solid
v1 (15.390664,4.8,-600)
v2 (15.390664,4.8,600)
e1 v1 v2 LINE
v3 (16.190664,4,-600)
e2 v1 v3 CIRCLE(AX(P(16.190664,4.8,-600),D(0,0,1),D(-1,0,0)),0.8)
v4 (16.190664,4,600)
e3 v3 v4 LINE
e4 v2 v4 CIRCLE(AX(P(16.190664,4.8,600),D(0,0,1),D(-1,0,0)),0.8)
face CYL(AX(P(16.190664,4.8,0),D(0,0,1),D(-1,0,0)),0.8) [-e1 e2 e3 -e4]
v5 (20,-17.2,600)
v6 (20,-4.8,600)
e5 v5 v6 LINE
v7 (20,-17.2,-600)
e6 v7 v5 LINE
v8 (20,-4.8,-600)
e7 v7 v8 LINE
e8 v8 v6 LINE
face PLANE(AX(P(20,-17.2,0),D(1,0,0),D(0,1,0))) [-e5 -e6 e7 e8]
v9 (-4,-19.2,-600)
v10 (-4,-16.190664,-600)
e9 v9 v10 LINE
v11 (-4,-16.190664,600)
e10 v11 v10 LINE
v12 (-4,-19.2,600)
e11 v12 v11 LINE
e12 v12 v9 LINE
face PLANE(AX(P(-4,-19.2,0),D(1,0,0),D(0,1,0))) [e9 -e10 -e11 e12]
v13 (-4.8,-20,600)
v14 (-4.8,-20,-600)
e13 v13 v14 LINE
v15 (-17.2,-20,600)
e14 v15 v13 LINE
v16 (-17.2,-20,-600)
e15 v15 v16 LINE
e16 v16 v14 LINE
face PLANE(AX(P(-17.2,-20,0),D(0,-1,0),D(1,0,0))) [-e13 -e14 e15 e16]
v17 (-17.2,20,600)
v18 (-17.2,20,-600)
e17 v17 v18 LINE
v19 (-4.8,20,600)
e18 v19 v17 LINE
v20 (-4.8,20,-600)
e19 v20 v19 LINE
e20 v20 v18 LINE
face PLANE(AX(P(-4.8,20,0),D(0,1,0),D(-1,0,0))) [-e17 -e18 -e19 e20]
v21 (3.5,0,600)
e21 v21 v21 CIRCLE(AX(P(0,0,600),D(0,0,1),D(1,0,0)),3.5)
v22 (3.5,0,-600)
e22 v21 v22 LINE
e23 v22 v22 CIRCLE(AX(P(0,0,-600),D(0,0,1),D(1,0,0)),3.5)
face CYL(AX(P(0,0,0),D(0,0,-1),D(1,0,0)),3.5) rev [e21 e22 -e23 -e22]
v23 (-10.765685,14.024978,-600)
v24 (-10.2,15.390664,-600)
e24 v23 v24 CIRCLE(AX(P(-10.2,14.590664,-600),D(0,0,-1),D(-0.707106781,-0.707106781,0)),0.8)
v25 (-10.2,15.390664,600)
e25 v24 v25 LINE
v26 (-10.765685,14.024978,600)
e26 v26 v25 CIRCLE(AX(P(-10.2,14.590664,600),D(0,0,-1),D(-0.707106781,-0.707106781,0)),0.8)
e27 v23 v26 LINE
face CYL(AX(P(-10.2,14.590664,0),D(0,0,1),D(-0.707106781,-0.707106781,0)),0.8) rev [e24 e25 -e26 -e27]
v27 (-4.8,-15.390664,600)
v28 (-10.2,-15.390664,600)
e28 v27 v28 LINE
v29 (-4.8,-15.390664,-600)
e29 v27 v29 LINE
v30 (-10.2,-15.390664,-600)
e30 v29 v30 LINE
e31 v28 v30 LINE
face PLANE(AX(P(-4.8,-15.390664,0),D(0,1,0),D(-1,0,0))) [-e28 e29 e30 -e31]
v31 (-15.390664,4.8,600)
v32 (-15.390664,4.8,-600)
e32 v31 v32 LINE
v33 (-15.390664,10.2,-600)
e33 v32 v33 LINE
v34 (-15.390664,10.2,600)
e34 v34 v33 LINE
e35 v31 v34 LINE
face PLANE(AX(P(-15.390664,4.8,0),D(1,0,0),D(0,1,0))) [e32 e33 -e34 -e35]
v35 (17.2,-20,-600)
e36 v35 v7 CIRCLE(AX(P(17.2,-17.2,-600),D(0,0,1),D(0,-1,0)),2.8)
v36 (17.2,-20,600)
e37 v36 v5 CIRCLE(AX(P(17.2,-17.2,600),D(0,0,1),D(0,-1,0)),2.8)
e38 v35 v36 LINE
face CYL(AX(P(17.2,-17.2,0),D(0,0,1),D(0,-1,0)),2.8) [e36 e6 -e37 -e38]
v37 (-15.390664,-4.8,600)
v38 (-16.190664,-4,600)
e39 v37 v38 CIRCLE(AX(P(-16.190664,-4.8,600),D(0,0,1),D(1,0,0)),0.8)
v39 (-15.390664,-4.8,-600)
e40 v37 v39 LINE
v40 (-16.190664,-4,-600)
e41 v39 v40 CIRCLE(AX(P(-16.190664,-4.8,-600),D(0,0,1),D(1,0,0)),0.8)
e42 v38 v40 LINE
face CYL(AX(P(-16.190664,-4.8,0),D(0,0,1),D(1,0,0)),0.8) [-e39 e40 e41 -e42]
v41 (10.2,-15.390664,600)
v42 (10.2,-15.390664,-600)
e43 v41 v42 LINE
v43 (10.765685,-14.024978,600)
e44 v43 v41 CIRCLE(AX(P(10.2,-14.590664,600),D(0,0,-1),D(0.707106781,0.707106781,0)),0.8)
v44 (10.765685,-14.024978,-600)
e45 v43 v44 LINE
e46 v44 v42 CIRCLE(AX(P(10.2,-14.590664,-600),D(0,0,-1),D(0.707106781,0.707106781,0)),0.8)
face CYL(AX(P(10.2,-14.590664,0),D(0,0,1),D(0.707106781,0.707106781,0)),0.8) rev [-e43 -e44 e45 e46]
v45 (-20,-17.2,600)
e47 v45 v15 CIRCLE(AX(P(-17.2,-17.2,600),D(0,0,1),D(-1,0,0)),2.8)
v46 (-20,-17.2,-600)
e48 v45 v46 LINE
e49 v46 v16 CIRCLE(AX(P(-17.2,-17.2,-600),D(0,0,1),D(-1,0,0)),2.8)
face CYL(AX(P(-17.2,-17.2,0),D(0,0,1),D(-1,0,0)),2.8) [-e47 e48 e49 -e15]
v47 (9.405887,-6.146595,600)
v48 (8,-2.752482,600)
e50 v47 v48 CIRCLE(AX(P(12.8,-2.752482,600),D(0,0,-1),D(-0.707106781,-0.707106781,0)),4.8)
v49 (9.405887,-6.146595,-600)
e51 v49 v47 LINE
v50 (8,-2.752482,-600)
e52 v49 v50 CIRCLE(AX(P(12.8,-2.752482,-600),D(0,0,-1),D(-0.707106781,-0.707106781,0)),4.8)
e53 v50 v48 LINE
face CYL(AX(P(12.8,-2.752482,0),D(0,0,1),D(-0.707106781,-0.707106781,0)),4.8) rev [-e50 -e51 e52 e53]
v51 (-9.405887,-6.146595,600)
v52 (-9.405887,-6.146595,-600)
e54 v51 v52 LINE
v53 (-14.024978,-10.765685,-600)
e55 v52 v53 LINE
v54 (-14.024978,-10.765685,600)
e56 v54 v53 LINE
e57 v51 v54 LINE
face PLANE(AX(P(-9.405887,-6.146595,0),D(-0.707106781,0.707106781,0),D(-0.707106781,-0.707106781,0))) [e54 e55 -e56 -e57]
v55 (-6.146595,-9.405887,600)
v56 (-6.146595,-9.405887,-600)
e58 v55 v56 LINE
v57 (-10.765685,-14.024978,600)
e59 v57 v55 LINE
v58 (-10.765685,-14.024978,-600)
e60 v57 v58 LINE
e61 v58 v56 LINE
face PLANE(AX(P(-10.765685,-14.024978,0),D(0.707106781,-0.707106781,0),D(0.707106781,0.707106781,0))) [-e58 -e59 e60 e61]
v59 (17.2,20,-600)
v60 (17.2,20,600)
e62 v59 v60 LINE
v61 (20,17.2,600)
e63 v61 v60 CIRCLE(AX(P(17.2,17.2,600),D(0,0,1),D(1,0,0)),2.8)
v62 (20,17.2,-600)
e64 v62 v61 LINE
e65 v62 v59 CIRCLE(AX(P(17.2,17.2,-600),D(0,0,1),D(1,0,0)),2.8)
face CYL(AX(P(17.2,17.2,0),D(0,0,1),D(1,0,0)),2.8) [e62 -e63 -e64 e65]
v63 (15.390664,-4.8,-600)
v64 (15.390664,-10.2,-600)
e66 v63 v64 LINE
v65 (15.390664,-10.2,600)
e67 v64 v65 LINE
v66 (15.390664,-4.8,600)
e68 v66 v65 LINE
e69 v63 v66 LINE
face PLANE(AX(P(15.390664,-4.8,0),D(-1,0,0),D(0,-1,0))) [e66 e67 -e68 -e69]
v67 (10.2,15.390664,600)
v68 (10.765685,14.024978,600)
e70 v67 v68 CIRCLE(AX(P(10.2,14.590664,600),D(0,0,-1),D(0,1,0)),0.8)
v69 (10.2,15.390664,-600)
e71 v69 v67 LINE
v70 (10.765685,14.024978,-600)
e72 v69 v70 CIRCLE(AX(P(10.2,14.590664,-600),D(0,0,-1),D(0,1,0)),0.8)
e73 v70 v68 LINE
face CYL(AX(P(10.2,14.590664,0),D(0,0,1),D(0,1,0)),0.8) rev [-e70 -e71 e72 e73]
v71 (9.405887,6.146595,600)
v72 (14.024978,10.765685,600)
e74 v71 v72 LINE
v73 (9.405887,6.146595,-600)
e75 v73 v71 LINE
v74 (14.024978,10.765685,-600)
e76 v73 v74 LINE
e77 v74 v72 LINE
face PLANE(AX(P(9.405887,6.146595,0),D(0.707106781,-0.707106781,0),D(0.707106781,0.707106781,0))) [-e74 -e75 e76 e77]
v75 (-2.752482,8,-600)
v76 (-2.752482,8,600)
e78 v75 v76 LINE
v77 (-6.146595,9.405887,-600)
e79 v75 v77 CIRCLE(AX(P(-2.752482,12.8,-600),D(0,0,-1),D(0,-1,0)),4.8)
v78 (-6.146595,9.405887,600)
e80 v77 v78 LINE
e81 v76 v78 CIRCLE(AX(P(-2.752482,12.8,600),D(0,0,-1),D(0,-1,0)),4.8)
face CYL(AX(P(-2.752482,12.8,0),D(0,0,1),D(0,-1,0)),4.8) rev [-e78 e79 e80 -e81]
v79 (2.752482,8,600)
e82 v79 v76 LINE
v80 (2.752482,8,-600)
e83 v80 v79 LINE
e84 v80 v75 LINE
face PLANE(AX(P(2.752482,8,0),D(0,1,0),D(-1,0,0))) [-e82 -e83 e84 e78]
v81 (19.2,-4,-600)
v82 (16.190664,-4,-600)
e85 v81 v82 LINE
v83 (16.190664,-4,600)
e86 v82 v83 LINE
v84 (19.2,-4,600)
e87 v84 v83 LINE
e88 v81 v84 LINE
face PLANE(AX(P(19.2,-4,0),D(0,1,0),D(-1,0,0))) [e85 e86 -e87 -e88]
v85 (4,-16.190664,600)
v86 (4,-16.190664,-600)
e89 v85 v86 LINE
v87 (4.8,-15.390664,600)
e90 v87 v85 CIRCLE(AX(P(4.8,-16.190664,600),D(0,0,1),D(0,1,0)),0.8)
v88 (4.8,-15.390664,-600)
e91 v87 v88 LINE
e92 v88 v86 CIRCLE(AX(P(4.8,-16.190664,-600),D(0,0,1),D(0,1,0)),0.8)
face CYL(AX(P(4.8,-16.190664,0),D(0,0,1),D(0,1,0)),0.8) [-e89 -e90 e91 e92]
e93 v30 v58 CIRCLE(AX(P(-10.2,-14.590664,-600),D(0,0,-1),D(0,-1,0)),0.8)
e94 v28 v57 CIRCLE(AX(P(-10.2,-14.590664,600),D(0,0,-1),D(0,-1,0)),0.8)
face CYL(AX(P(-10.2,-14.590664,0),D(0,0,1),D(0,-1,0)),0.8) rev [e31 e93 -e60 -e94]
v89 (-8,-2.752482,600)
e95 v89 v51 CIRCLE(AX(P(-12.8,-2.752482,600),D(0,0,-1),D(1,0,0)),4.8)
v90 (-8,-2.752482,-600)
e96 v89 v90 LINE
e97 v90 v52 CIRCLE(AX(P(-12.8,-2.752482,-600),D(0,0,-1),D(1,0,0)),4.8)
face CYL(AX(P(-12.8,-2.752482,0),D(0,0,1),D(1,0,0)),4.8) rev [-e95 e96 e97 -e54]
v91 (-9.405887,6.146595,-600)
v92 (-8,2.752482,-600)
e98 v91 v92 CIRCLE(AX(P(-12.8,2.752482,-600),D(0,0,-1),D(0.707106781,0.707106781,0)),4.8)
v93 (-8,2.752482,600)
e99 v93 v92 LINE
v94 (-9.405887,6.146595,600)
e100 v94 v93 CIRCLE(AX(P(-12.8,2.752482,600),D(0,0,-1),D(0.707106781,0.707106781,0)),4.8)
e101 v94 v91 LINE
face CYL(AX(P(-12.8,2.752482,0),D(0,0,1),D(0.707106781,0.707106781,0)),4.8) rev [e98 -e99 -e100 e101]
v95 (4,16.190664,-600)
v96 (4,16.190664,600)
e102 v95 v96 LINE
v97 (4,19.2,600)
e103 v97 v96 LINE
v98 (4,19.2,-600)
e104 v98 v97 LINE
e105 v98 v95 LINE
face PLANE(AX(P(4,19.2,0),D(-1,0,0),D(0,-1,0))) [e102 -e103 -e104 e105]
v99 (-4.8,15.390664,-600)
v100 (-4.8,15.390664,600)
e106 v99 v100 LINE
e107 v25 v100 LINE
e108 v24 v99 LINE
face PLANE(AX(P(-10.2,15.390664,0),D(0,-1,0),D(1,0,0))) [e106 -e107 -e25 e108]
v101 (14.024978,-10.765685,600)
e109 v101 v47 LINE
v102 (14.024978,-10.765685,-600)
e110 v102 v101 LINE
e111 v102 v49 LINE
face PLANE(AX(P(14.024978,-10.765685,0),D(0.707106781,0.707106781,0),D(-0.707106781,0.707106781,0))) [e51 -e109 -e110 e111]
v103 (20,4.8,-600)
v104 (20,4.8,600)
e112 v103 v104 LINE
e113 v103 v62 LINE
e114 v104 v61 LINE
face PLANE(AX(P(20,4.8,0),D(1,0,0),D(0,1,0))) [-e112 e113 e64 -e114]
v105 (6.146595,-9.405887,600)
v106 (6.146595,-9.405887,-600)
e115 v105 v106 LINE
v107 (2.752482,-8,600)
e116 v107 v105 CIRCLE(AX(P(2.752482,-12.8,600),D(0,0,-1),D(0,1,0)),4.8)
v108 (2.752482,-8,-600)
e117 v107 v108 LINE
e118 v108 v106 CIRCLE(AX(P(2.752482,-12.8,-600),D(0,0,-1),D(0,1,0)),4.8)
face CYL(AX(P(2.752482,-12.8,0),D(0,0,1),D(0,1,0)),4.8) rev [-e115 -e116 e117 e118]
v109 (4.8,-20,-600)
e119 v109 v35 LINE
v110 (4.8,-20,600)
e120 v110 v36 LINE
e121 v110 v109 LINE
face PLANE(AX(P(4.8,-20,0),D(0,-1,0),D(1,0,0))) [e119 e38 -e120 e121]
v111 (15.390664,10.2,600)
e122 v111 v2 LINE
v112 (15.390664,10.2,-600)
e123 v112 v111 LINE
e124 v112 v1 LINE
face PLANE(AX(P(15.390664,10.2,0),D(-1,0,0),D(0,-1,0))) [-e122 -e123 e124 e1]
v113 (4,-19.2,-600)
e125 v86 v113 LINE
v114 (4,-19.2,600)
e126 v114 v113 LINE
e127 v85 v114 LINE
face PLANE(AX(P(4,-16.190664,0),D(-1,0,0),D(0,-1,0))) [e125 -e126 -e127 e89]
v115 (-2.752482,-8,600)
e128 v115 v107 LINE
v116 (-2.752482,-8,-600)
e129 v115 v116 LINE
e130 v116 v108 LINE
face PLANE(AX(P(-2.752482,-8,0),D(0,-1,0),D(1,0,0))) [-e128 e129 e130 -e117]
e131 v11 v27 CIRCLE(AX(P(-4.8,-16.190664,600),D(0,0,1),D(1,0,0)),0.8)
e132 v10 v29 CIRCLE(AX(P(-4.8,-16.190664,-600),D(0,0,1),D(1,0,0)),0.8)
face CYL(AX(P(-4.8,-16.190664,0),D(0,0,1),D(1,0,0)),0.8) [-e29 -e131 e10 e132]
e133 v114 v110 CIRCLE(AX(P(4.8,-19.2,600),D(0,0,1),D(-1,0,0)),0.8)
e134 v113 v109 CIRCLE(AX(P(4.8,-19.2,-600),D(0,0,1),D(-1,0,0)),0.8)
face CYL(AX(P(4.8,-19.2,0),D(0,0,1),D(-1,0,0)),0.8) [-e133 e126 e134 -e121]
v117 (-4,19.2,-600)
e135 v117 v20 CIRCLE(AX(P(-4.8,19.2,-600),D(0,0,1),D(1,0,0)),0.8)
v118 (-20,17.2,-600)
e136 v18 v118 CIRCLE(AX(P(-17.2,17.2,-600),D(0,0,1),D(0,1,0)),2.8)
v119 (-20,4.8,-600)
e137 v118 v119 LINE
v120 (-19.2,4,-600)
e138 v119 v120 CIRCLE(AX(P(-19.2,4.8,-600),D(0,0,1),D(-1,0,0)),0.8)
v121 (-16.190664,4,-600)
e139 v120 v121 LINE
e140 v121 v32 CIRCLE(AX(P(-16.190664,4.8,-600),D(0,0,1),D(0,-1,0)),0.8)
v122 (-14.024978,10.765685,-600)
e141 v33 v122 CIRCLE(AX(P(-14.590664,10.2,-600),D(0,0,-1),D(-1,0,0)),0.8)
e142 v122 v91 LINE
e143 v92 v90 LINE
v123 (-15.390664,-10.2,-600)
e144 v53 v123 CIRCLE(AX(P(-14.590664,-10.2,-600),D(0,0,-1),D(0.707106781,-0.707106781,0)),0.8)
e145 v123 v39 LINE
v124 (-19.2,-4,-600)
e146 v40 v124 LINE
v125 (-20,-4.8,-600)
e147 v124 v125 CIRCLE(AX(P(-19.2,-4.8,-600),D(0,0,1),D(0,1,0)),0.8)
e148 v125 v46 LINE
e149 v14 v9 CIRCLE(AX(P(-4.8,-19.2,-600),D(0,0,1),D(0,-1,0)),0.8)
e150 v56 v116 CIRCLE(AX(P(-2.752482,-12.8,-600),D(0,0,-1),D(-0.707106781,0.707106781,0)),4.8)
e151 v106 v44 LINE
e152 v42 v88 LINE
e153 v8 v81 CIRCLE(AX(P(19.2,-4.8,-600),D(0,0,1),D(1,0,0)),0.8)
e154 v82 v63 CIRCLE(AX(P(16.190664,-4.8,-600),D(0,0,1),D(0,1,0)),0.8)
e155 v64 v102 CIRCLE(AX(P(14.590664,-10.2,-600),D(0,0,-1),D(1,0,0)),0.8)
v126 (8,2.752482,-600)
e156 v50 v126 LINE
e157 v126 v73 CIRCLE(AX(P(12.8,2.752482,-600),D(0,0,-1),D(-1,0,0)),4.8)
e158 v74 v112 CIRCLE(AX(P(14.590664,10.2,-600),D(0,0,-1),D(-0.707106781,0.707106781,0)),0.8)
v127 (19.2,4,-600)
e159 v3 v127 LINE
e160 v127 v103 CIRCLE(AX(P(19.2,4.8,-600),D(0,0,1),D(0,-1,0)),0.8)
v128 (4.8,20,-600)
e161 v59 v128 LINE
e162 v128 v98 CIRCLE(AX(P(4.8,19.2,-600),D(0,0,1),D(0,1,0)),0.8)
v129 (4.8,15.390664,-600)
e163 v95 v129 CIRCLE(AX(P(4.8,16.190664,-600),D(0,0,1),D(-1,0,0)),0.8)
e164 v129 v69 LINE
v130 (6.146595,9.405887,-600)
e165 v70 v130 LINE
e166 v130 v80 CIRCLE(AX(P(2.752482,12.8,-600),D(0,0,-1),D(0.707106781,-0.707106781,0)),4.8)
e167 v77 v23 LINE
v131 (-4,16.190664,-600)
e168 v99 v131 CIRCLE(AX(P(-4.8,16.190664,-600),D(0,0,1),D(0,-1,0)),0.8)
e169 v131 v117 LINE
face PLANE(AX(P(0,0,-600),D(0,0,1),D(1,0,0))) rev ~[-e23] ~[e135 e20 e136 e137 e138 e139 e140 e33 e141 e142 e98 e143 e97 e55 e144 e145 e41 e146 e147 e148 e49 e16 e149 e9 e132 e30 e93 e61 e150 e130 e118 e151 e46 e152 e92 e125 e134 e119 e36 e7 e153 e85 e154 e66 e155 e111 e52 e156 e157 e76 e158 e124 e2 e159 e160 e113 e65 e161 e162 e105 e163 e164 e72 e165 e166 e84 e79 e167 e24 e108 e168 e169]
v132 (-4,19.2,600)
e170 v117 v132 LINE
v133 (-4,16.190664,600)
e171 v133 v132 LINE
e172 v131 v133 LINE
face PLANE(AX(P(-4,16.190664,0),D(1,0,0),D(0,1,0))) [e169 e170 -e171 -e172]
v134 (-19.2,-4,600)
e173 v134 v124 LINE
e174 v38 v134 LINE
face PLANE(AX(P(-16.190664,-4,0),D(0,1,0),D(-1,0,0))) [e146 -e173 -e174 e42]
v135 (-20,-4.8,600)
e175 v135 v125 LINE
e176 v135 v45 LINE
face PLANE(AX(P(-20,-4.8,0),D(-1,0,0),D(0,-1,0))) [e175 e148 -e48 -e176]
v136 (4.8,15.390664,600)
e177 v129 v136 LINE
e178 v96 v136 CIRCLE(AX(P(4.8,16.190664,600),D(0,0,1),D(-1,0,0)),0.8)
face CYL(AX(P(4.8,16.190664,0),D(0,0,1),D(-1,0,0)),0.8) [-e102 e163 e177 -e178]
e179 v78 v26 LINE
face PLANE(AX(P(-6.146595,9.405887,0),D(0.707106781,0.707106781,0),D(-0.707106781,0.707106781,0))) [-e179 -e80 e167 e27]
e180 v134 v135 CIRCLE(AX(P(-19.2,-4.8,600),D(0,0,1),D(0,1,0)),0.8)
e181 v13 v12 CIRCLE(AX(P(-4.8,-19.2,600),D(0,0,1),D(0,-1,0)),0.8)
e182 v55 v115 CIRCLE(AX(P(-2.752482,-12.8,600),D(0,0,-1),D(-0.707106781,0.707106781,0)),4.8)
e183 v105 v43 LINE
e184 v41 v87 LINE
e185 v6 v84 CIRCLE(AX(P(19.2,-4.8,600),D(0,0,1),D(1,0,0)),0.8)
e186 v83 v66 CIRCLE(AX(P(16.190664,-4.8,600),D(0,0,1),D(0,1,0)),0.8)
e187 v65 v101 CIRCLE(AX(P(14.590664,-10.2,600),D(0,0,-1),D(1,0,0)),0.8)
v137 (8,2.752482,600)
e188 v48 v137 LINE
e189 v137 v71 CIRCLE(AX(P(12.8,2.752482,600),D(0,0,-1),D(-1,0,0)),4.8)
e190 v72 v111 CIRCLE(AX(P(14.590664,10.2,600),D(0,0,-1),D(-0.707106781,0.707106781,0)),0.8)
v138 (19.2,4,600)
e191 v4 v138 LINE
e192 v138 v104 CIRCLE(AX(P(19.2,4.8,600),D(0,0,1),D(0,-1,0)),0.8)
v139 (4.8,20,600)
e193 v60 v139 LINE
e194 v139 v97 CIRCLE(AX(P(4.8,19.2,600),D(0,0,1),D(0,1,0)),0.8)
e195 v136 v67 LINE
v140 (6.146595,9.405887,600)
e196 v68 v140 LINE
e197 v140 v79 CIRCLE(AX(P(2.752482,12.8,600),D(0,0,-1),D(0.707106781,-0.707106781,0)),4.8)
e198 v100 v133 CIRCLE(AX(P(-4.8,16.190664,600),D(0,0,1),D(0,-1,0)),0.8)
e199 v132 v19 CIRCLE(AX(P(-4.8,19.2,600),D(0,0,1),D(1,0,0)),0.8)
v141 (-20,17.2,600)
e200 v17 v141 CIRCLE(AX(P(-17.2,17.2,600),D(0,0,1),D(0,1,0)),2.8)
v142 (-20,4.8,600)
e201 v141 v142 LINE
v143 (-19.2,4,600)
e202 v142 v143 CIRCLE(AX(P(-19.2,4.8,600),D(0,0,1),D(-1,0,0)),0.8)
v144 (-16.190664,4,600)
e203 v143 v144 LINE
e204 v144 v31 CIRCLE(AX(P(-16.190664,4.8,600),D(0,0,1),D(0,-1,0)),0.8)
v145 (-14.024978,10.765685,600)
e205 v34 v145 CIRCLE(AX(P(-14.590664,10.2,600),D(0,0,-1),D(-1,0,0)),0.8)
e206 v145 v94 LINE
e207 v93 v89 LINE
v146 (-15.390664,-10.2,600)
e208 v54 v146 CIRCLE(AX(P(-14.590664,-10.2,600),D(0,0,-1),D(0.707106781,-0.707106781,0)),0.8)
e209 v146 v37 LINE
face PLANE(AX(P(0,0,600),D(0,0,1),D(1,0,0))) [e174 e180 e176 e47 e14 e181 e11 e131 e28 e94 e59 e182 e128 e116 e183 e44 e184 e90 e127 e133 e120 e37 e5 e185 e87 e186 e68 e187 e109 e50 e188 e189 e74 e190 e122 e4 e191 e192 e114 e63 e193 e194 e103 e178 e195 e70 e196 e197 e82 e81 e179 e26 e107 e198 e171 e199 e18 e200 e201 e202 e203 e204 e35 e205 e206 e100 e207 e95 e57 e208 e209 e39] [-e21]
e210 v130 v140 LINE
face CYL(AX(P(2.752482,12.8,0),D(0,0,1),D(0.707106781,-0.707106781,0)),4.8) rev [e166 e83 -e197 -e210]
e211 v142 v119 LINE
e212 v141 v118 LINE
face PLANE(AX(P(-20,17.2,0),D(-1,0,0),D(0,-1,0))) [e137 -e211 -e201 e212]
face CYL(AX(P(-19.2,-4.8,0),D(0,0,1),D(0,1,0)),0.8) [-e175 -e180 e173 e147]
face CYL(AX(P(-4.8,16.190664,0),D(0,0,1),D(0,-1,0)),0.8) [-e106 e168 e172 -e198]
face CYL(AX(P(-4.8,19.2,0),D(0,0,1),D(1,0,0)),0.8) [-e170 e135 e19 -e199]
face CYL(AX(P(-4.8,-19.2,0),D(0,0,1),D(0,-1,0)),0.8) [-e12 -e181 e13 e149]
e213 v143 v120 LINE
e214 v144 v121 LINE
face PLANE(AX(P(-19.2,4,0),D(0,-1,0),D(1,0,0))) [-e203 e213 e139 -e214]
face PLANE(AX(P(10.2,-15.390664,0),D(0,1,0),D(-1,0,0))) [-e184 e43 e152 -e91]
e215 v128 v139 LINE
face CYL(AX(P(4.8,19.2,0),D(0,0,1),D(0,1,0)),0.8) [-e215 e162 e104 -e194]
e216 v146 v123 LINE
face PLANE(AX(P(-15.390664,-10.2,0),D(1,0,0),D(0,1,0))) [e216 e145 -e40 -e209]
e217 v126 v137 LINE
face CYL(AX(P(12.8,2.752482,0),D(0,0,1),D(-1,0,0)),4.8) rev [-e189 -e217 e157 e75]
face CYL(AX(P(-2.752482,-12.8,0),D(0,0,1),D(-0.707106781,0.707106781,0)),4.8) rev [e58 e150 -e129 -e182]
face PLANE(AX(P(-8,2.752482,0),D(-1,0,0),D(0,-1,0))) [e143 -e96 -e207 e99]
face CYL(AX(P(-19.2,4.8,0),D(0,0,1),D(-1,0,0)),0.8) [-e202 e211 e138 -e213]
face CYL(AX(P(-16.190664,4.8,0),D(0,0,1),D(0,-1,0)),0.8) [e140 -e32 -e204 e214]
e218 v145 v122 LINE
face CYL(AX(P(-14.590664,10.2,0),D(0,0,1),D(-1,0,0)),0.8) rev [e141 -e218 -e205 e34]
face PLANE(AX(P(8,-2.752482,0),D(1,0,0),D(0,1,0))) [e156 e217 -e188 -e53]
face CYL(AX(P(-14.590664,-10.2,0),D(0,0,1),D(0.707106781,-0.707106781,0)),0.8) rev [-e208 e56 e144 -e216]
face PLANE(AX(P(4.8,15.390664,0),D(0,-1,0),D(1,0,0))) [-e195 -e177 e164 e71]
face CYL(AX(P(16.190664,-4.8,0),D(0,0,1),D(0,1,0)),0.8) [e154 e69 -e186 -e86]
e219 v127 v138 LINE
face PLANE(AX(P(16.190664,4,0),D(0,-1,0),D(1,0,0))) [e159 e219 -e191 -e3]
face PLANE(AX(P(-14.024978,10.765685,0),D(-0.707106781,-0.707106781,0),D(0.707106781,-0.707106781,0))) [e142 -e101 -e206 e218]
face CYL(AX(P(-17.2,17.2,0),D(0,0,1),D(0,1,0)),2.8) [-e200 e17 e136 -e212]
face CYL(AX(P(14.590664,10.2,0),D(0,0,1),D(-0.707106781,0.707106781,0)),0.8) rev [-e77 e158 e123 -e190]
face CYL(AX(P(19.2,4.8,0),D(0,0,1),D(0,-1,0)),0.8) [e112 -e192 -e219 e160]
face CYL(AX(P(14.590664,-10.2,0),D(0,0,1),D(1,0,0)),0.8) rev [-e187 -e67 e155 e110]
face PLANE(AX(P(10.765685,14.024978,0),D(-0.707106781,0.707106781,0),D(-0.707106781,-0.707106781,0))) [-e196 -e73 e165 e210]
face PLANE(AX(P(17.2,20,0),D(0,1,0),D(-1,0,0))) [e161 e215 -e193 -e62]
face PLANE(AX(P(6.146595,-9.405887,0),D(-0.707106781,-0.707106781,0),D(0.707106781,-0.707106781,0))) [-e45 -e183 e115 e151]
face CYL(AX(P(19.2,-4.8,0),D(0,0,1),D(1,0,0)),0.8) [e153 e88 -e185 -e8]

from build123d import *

# Parameters (mm, degrees)
SKETCH1_R           = 3.5
BOSS_EXTRUDE1_DEPTH = 600


with BuildPart() as part:
    # Sketch1 → Boss-Extrude1 (new, symmetric)
    with BuildSketch(Plane.XY):
        with BuildLine():
            Line((4.8, -20), (17.2, -20))
            ThreePointArc((17.2, -20), (19.179898987, -19.179898987), (20, -17.2))
            Line((20, -17.2), (20, -4.8))
            ThreePointArc((20, -4.8), (19.765685425, -4.234314575), (19.2, -4))
            Line((19.2, -4), (16.190663761, -4))
            ThreePointArc((16.190663761, -4), (15.624978336, -4.234314575), (15.390663761, -4.8))
            Line((15.390663761, -4.8), (15.390663761, -10.2))
            ThreePointArc((15.390663761, -10.2), (14.896810507, -10.939103626), (14.024978336, -10.765685425))
            Line((14.024978336, -10.765685425), (9.40588745, -6.146594539))
            ThreePointArc((9.40588745, -6.146594539), (8.365378244, -4.589362465), (8, -2.752481989))
            Line((8, -2.752481989), (8, 2.752481989))
            ThreePointArc((8, 2.752481989), (8.365378244, 4.589362465), (9.40588745, 6.146594539))
            Line((9.40588745, 6.146594539), (14.024978336, 10.765685425))
            ThreePointArc((14.024978336, 10.765685425), (14.896810507, 10.939103626), (15.390663761, 10.2))
            Line((15.390663761, 10.2), (15.390663761, 4.8))
            ThreePointArc((15.390663761, 4.8), (15.624978336, 4.234314575), (16.190663761, 4))
            Line((16.190663761, 4), (19.2, 4))
            ThreePointArc((19.2, 4), (19.765685425, 4.234314575), (20, 4.8))
            Line((20, 4.8), (20, 17.2))
            ThreePointArc((20, 17.2), (19.179898987, 19.179898987), (17.2, 20))
            Line((17.2, 20), (4.8, 20))
            ThreePointArc((4.8, 20), (4.234314575, 19.765685425), (4, 19.2))
            Line((4, 19.2), (4, 16.190663761))
            ThreePointArc((4, 16.190663761), (4.234314575, 15.624978336), (4.8, 15.390663761))
            Line((4.8, 15.390663761), (10.2, 15.390663761))
            ThreePointArc((10.2, 15.390663761), (10.939103626, 14.896810507), (10.765685425, 14.024978336))
            Line((10.765685425, 14.024978336), (6.146594539, 9.40588745))
            ThreePointArc((6.146594539, 9.40588745), (4.589362465, 8.365378244), (2.752481989, 8))
            Line((2.752481989, 8), (-2.752481989, 8))
            ThreePointArc((-2.752481989, 8), (-4.589362465, 8.365378244), (-6.146594539, 9.40588745))
            Line((-6.146594539, 9.40588745), (-10.765685425, 14.024978336))
            ThreePointArc((-10.765685425, 14.024978336), (-10.939103626, 14.896810507), (-10.2, 15.390663761))
            Line((-10.2, 15.390663761), (-4.8, 15.390663761))
            ThreePointArc((-4.8, 15.390663761), (-4.234314575, 15.624978336), (-4, 16.190663761))
            Line((-4, 16.190663761), (-4, 19.2))
            ThreePointArc((-4, 19.2), (-4.234314575, 19.765685425), (-4.8, 20))
            Line((-4.8, 20), (-17.2, 20))
            ThreePointArc((-17.2, 20), (-19.179898987, 19.179898987), (-20, 17.2))
            Line((-20, 17.2), (-20, 4.8))
            ThreePointArc((-20, 4.8), (-19.765685425, 4.234314575), (-19.2, 4))
            Line((-19.2, 4), (-16.190663761, 4))
            ThreePointArc((-16.190663761, 4), (-15.624978336, 4.234314575), (-15.390663761, 4.8))
            Line((-15.390663761, 4.8), (-15.390663761, 10.2))
            ThreePointArc((-15.390663761, 10.2), (-14.896810507, 10.939103626), (-14.024978336, 10.765685425))
            Line((-14.024978336, 10.765685425), (-9.40588745, 6.146594539))
            ThreePointArc((-9.40588745, 6.146594539), (-8.365378244, 4.589362465), (-8, 2.752481989))
            Line((-8, 2.752481989), (-8, -2.752481989))
            ThreePointArc((-8, -2.752481989), (-8.365378244, -4.589362465), (-9.40588745, -6.146594539))
            Line((-9.40588745, -6.146594539), (-14.024978336, -10.765685425))
            ThreePointArc((-14.024978336, -10.765685425), (-14.896810507, -10.939103626), (-15.390663761, -10.2))
            Line((-15.390663761, -10.2), (-15.390663761, -4.8))
            ThreePointArc((-15.390663761, -4.8), (-15.624978336, -4.234314575), (-16.190663761, -4))
            Line((-16.190663761, -4), (-19.2, -4))
            ThreePointArc((-19.2, -4), (-19.765685425, -4.234314575), (-20, -4.8))
            Line((-20, -4.8), (-20, -17.2))
            ThreePointArc((-20, -17.2), (-19.179898987, -19.179898987), (-17.2, -20))
            Line((-17.2, -20), (-4.8, -20))
            ThreePointArc((-4.8, -20), (-4.234314575, -19.765685425), (-4, -19.2))
            Line((-4, -19.2), (-4, -16.190663761))
            ThreePointArc((-4, -16.190663761), (-4.234314575, -15.624978336), (-4.8, -15.390663761))
            Line((-4.8, -15.390663761), (-10.2, -15.390663761))
            ThreePointArc((-10.2, -15.390663761), (-10.939103626, -14.896810507), (-10.765685425, -14.024978336))
            Line((-10.765685425, -14.024978336), (-6.146594539, -9.40588745))
            ThreePointArc((-6.146594539, -9.40588745), (-4.589362465, -8.365378244), (-2.752481989, -8))
            Line((-2.752481989, -8), (2.752481989, -8))
            ThreePointArc((2.752481989, -8), (4.589362465, -8.365378244), (6.146594539, -9.40588745))
            Line((6.146594539, -9.40588745), (10.765685425, -14.024978336))
            ThreePointArc((10.765685425, -14.024978336), (10.939103626, -14.896810507), (10.2, -15.390663761))
            Line((10.2, -15.390663761), (4.8, -15.390663761))
            ThreePointArc((4.8, -15.390663761), (4.234314575, -15.624978336), (4, -16.190663761))
            Line((4, -16.190663761), (4, -19.2))
            ThreePointArc((4, -19.2), (4.234314575, -19.765685425), (4.8, -20))
        make_face()
        Circle(SKETCH1_R, mode=Mode.SUBTRACT)
    extrude(amount=BOSS_EXTRUDE1_DEPTH, both=True)


solid = part.part
